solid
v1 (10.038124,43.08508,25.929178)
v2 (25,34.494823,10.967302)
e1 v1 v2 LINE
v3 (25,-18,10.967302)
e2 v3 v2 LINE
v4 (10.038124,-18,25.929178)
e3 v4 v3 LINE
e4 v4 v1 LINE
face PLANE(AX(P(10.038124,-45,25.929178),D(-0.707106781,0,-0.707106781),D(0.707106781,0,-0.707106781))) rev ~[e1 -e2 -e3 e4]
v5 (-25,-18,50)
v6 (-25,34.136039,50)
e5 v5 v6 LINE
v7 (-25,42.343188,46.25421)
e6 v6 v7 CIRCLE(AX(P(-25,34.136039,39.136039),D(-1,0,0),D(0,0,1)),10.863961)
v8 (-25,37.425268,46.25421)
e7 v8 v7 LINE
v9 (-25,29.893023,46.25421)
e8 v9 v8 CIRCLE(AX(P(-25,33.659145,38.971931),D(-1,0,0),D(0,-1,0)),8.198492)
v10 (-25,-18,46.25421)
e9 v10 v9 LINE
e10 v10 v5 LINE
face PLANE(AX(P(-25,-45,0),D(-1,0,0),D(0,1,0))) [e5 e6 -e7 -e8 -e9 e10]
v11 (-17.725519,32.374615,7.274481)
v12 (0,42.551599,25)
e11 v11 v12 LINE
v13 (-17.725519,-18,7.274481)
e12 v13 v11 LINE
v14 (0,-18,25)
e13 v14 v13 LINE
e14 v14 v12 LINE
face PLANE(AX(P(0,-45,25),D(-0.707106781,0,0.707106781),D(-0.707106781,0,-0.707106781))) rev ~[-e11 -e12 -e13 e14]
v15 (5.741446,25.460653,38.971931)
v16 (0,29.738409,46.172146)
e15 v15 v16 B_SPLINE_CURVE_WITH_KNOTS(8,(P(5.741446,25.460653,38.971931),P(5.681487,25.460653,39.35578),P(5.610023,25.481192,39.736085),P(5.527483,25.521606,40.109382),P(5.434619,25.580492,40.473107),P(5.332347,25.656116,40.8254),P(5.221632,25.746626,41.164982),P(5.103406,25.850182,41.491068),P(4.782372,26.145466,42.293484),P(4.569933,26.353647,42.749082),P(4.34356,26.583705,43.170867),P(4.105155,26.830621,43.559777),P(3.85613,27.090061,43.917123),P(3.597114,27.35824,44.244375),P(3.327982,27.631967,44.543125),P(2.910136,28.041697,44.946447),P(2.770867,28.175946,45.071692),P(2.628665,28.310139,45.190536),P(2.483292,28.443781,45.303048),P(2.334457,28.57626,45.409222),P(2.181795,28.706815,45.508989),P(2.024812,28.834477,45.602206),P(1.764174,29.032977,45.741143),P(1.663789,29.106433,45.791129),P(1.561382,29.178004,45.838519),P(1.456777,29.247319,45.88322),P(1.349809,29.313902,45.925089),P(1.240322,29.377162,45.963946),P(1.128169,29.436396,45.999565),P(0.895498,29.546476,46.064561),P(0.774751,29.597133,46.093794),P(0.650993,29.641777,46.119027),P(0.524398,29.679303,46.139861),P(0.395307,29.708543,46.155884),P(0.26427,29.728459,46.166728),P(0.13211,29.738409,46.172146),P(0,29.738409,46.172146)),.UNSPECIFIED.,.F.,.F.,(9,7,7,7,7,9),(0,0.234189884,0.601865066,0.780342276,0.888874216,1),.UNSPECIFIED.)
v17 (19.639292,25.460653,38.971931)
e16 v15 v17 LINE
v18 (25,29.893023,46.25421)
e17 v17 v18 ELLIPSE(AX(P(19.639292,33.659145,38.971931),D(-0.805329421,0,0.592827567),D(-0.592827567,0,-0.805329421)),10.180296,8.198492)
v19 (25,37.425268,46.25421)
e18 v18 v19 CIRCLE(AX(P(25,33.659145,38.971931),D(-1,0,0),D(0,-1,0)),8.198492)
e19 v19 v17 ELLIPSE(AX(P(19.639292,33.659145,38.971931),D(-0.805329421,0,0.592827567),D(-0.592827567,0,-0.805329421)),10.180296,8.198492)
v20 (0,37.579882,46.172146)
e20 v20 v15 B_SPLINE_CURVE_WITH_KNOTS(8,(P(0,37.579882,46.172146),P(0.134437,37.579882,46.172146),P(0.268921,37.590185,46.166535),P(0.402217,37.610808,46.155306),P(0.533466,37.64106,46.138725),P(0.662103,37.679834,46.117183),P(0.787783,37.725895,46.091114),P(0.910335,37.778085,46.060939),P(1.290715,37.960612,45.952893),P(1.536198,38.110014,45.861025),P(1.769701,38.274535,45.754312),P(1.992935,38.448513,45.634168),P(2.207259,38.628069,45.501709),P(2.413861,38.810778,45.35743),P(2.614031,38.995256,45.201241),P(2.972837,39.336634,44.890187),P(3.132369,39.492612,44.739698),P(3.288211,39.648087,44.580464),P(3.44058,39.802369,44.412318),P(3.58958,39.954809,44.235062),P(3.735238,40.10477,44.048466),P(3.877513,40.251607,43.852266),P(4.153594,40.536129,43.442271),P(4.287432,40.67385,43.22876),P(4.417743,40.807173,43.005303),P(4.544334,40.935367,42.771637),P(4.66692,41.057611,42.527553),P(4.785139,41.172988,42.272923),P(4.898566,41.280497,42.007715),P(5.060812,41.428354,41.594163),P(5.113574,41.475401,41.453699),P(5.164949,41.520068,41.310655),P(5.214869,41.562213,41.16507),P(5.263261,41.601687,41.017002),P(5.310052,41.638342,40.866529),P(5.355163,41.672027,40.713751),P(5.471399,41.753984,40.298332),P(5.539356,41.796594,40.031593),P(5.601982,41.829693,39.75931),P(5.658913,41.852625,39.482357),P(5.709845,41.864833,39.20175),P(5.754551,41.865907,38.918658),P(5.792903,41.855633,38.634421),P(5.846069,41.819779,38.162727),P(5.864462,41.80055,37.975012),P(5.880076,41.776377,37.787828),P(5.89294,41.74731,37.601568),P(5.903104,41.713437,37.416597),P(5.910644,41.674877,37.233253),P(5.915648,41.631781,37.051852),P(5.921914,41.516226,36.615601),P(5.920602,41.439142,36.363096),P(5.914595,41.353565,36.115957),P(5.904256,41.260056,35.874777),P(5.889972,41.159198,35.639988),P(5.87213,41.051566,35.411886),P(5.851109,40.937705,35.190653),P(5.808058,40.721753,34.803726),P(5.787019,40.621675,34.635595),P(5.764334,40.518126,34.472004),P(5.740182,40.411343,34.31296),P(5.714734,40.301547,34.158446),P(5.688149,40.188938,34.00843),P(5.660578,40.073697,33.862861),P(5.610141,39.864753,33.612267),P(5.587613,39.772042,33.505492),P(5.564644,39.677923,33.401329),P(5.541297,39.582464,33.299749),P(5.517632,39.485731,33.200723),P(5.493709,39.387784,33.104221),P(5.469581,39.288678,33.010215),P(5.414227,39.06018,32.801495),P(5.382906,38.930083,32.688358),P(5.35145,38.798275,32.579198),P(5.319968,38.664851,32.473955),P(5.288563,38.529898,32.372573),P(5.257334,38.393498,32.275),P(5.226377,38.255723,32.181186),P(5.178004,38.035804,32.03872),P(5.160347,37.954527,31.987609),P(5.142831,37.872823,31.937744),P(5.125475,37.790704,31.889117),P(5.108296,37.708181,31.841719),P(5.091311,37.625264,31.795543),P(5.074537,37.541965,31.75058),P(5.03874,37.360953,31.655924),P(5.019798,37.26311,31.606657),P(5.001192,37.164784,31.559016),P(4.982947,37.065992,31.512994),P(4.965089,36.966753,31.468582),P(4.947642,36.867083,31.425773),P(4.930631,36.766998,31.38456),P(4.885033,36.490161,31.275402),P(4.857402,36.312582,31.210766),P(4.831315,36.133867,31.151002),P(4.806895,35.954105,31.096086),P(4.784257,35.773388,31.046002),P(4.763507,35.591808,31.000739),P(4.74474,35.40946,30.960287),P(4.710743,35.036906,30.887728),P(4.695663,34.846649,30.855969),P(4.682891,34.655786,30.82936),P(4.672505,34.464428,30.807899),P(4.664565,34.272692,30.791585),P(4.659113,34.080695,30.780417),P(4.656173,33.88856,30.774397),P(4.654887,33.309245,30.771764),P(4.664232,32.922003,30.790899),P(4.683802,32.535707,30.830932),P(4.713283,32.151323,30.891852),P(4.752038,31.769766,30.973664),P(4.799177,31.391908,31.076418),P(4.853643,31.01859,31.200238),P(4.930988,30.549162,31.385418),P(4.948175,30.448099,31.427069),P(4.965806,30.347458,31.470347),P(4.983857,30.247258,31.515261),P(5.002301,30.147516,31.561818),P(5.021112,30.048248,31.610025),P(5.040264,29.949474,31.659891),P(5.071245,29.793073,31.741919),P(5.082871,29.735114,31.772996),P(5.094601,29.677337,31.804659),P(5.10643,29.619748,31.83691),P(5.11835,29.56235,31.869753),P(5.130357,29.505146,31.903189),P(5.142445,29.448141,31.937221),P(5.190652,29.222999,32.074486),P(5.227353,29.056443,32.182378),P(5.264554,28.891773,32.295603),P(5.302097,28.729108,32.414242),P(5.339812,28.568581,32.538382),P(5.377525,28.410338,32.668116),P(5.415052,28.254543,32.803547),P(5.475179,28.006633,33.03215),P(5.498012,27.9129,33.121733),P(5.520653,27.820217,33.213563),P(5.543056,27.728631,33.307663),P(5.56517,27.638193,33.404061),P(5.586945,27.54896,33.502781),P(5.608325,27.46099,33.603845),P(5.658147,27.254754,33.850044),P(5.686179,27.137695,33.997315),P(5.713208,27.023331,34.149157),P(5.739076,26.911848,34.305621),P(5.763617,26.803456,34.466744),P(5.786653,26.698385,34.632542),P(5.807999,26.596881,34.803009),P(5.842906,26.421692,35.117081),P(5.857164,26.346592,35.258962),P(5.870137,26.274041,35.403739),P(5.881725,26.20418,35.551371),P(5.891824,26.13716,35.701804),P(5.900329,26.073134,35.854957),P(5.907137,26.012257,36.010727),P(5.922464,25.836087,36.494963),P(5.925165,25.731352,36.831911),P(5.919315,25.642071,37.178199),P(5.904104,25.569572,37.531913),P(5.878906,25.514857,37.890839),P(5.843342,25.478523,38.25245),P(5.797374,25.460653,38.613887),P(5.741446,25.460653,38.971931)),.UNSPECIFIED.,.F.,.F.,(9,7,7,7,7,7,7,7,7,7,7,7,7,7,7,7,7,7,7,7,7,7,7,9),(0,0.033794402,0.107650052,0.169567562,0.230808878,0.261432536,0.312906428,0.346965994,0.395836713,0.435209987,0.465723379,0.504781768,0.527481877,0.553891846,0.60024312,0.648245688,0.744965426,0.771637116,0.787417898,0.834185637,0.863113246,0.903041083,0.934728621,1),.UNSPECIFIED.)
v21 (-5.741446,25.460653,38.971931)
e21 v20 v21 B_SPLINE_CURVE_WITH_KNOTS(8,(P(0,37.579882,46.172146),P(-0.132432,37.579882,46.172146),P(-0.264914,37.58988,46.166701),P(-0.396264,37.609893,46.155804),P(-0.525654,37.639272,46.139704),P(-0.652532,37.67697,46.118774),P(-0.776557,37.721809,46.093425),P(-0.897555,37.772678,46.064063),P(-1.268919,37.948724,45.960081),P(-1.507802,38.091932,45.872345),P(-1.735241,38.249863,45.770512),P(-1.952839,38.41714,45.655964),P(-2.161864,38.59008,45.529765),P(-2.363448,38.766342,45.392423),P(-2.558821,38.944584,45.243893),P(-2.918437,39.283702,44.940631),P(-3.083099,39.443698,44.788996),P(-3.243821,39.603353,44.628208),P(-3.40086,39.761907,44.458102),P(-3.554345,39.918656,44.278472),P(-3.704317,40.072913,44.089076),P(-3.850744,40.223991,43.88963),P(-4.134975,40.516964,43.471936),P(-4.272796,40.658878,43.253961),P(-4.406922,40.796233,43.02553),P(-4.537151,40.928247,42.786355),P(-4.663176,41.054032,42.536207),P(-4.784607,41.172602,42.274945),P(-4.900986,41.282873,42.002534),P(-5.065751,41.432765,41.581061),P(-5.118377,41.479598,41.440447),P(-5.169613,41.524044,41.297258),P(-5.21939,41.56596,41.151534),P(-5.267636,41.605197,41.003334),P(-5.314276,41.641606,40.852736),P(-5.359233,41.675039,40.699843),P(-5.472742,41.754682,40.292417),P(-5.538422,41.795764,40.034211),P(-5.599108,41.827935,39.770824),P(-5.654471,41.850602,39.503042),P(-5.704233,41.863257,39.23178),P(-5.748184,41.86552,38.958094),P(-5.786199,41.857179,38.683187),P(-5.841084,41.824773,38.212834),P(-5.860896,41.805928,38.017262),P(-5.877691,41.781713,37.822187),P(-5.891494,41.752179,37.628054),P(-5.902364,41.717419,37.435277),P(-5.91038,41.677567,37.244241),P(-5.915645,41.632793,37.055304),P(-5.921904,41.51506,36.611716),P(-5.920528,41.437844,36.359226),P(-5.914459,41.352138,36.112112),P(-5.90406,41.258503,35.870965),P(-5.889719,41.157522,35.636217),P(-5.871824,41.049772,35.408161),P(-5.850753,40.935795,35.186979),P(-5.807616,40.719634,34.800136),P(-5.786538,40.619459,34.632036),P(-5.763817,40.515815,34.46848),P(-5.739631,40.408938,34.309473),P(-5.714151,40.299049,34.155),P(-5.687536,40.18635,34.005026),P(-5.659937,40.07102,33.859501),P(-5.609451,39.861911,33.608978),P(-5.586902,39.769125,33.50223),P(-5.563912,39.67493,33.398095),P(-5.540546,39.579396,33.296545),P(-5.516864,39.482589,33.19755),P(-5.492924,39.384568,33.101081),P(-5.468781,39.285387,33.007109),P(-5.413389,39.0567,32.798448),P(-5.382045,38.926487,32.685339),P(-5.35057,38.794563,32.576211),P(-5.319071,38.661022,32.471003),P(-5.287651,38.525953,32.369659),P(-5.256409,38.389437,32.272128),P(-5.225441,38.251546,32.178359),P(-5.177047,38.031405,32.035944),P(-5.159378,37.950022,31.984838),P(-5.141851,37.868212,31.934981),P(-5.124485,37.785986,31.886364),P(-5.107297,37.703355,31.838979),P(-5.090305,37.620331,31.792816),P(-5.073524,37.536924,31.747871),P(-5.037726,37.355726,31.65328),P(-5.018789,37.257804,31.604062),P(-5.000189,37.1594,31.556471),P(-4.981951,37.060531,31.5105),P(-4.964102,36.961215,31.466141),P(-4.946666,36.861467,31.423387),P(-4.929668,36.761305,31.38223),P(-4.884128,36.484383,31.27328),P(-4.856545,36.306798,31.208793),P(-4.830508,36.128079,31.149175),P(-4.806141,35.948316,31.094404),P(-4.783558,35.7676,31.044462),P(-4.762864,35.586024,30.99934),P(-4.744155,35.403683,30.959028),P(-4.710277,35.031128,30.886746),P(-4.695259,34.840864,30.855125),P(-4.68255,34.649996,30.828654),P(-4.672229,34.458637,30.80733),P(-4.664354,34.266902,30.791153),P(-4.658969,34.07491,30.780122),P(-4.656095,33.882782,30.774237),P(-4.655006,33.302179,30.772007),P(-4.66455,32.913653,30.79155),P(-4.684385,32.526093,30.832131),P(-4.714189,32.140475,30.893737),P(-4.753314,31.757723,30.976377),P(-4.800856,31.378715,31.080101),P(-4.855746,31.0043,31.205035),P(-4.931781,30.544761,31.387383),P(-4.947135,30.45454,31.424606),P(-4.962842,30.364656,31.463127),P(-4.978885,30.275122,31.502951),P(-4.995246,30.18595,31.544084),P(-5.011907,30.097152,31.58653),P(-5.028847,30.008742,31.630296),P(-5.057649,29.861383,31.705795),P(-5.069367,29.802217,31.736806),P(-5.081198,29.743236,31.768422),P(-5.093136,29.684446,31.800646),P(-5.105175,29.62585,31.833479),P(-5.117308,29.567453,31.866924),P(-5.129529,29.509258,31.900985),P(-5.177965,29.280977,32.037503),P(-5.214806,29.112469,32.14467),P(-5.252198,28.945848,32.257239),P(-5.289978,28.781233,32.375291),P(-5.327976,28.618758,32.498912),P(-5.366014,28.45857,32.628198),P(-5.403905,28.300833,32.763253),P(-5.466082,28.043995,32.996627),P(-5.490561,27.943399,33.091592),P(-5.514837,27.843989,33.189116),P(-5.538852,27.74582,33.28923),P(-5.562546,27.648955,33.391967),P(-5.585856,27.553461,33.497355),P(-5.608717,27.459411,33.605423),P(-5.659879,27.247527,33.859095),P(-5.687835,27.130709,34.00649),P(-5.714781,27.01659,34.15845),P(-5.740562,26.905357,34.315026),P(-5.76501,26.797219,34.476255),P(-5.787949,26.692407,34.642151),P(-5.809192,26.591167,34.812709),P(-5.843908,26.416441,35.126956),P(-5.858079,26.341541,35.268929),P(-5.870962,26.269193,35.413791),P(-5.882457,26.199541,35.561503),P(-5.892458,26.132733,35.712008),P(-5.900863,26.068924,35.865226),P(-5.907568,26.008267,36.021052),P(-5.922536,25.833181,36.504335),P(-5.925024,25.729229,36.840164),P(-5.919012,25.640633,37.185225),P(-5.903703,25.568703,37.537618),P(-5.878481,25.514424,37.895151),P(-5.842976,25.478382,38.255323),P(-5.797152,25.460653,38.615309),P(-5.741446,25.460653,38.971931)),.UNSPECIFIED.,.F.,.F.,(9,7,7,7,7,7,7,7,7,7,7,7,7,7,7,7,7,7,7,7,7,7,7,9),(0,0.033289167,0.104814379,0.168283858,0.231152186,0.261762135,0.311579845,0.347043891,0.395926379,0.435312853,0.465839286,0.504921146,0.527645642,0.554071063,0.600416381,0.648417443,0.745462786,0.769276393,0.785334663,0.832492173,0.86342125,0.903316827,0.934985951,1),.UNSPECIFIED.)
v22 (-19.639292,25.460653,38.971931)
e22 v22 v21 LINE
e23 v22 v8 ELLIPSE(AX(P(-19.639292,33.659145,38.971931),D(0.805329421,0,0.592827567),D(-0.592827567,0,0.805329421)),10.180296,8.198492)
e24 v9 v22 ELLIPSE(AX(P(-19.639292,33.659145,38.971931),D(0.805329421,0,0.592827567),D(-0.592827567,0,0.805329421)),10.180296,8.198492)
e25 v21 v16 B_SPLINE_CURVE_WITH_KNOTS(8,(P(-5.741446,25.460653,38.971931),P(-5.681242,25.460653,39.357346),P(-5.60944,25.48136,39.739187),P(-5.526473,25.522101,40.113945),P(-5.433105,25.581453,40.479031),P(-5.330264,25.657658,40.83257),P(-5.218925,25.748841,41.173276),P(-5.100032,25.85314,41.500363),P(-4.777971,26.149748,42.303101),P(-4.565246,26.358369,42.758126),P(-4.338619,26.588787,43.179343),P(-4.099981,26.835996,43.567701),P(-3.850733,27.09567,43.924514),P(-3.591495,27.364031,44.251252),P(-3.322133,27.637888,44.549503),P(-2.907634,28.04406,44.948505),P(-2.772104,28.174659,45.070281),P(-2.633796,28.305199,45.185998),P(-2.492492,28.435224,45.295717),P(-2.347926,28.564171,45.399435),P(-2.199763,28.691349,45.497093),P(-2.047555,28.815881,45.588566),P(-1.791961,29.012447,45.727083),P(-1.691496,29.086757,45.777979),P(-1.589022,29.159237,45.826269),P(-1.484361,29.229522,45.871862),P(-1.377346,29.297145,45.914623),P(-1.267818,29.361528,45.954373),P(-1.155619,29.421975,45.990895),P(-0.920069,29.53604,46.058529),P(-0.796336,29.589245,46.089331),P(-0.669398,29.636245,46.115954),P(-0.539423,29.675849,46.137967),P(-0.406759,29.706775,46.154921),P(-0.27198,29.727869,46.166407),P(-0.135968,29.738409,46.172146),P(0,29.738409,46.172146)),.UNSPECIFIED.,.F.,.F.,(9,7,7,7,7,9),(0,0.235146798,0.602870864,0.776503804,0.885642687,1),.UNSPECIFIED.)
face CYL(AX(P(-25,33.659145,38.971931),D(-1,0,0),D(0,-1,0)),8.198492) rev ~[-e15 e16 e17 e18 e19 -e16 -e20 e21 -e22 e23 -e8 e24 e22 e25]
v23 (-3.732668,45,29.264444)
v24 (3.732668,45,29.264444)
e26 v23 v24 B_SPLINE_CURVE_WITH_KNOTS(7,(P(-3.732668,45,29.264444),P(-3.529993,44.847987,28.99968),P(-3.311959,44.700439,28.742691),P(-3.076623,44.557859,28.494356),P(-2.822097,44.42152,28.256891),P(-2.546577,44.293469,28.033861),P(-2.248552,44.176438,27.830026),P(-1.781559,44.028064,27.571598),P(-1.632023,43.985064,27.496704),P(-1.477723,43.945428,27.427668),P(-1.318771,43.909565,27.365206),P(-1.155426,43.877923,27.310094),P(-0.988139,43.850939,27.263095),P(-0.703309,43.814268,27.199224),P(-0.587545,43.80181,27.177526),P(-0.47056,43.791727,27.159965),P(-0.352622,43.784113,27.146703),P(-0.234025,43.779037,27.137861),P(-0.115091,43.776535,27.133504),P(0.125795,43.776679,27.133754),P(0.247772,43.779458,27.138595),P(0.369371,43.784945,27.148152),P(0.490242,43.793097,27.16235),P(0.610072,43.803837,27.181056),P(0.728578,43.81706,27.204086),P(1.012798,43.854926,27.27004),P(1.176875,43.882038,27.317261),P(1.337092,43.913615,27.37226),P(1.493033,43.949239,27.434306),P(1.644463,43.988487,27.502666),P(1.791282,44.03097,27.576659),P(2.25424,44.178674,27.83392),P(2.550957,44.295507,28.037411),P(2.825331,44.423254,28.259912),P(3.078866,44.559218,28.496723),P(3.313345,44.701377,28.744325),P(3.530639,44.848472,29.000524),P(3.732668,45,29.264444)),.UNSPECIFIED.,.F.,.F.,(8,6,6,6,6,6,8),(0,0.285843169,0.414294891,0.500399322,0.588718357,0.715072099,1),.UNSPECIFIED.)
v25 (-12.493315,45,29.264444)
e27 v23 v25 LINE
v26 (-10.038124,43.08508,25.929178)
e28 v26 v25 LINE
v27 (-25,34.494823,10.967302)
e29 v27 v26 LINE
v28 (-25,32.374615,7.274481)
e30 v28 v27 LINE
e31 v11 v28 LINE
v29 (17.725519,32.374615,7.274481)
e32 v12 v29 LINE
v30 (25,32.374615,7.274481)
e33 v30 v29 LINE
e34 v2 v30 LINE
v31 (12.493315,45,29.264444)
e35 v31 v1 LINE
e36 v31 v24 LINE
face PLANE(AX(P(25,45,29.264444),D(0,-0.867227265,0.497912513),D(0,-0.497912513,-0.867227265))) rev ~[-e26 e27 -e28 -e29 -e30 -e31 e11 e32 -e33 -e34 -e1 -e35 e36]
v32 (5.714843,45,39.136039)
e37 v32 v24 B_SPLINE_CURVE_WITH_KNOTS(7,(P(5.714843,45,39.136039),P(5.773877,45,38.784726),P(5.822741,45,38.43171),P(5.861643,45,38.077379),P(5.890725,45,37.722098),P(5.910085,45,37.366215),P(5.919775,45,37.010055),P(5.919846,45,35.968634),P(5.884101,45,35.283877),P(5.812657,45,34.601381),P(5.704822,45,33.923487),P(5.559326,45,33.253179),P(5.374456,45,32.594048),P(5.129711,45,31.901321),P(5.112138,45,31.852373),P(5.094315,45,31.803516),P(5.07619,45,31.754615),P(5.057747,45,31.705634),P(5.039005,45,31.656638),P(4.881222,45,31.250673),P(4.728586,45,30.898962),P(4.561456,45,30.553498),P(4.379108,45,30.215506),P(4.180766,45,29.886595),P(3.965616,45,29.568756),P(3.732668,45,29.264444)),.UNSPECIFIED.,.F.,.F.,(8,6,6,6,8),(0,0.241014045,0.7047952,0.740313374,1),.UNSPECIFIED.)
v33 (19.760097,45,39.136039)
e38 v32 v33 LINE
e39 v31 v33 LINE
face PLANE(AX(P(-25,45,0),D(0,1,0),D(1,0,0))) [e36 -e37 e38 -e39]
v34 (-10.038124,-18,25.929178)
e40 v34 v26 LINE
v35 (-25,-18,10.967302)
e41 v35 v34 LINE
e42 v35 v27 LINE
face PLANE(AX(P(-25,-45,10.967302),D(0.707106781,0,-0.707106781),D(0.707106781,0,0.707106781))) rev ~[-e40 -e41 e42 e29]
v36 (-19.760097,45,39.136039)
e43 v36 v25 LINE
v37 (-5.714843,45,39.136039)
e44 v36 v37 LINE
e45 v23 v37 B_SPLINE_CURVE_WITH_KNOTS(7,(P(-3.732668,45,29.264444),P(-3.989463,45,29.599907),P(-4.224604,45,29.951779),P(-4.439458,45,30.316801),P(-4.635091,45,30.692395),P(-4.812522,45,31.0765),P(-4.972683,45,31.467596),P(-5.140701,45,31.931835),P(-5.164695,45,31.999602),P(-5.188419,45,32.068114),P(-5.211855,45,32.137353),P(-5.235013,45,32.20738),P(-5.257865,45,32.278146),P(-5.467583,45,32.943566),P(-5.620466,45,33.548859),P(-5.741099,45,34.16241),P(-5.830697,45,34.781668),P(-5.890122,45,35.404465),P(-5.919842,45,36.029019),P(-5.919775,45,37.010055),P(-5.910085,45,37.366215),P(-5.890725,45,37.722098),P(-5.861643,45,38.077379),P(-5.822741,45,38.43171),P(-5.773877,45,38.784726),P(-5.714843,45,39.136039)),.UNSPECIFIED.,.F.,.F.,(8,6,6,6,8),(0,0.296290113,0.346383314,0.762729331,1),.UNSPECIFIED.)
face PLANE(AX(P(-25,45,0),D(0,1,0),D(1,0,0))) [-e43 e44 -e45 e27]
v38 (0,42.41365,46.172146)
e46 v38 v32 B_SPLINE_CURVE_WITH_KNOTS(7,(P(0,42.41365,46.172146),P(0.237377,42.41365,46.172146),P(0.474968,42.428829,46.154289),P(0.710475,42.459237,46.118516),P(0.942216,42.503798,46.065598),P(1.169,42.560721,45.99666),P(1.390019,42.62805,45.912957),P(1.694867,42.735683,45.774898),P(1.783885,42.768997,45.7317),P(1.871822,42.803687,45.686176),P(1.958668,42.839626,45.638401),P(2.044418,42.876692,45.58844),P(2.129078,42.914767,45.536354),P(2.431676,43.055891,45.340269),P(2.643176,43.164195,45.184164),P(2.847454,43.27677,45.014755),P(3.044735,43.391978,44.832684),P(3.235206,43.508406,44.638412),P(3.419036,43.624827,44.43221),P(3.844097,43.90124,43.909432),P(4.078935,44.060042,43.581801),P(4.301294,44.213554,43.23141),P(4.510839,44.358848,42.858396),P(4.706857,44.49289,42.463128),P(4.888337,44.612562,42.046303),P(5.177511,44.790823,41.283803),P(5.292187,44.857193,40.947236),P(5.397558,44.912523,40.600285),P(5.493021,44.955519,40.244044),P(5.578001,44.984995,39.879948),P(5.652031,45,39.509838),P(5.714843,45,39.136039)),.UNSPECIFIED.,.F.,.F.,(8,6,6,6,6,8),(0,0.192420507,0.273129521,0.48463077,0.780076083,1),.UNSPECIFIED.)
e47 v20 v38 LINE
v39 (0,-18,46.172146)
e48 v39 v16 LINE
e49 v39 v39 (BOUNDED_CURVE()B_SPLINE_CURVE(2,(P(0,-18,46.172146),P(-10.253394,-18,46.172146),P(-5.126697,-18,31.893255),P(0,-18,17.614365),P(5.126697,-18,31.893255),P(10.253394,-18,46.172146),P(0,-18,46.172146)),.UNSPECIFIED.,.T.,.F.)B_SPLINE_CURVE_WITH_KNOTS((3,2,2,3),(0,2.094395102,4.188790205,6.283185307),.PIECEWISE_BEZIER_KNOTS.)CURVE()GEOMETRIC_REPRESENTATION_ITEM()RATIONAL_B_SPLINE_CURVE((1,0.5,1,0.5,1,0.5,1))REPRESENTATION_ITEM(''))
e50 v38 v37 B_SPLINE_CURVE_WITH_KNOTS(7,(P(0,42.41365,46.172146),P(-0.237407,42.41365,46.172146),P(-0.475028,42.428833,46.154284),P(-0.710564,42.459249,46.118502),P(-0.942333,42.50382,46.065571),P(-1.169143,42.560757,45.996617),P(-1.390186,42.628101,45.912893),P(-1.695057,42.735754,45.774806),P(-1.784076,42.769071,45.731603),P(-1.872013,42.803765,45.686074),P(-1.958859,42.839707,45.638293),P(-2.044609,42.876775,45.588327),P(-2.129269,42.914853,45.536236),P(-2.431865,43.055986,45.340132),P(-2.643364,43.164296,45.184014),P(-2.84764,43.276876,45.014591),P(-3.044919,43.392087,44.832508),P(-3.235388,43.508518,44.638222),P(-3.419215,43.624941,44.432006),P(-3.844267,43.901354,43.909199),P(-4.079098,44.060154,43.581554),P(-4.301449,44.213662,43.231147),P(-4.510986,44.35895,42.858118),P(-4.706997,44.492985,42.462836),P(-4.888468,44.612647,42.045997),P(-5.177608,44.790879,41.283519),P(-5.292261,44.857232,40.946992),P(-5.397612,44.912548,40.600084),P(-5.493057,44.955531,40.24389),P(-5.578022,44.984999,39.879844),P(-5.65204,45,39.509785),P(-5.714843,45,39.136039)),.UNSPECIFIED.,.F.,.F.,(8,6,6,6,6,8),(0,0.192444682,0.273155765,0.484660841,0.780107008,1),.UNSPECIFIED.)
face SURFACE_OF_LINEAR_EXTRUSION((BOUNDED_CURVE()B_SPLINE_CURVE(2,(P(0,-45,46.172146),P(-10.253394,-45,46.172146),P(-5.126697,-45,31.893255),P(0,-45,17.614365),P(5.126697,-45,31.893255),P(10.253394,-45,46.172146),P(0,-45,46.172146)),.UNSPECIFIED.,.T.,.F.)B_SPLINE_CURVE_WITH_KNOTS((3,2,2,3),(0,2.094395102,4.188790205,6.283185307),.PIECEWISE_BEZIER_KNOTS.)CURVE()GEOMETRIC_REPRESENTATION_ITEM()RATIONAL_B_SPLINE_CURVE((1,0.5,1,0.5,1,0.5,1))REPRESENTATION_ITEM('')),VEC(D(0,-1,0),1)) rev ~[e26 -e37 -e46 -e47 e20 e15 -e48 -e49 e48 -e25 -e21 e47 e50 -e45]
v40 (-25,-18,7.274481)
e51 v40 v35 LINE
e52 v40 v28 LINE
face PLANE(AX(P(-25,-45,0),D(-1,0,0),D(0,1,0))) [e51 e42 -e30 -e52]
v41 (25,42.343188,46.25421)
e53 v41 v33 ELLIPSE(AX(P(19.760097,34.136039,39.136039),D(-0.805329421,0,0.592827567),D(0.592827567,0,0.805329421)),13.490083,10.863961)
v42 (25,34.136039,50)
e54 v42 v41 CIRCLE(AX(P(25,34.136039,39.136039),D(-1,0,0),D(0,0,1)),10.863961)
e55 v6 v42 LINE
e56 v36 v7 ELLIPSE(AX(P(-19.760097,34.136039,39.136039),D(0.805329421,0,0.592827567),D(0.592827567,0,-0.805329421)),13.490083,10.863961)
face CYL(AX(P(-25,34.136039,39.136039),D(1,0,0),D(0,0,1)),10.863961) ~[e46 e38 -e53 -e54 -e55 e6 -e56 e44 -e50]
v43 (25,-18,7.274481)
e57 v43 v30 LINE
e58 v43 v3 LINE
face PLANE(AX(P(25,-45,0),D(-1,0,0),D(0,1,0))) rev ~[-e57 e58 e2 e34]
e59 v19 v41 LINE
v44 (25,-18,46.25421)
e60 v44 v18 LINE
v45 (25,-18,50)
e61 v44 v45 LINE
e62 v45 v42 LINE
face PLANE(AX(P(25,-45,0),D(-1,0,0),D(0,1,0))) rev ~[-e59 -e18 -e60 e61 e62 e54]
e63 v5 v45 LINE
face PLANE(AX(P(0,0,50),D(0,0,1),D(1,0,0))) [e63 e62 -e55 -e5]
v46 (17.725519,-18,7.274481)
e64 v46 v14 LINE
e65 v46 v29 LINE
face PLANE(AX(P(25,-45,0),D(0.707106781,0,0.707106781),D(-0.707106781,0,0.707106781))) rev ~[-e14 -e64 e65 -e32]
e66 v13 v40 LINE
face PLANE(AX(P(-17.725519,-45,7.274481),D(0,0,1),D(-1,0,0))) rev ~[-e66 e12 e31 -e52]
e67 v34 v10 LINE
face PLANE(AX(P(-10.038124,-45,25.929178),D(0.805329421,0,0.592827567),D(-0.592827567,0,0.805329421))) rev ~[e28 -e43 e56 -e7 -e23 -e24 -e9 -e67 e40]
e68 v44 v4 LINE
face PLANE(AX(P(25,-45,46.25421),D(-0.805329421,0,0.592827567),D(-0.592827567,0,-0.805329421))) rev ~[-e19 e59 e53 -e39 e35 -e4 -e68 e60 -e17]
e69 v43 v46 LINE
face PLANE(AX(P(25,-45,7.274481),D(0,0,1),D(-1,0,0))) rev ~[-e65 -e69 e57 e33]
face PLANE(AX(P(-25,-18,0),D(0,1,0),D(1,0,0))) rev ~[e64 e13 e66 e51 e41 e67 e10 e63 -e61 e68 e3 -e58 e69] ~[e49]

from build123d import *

# Parameters (mm, degrees)
F0_W      = 50
F0_H      = 90
F1_DEPTH  = 50
F3_DEPTH  = 90.001
F4_R      = 8.198492098
F5_DEPTH  = 50.001
F6_R      = 10.8639610307
F8_DEPTH  = 50.001
F11_DEPTH = 90.001
F13_DEPTH = 90.0010001
F14_DEPTH = 90.0010001
F15_DEPTH = 27


with BuildPart() as f1:
    # F0 (on Top) → F1 (new body)
    with BuildSketch(Plane.XY):
        Rectangle(F0_W, F0_H)
    extrude(amount=F1_DEPTH)

    # F2 (on face) → F3 (cut, through all)
    with BuildSketch(Plane.XZ.offset(45)):
        Polygon((0, 25), (-25, 0), (25, 0), align=None)
    extrude(amount=-F3_DEPTH, mode=Mode.SUBTRACT)

    # F4 (on face) → F5 (cut, through all)
    with BuildSketch(Plane(origin=(-25, 0, 0), x_dir=(0, -1, 0), z_dir=(-1, 0, 0))):
        with Locations((-33.659145236, 38.9719307423)):
            Circle(F4_R)
    extrude(amount=-F5_DEPTH, mode=Mode.SUBTRACT)

    # F6
    f6_edges = [f1.edges().sort_by_distance(p)[0] for p in [
        (0, 45, 50),
    ]]
    fillet(f6_edges, radius=F6_R)

    # F7 (on face) → F8 (cut, through all)
    with BuildSketch(Plane.YZ.offset(25)):
        Polygon((28.1980223954, 0), (45, 0), (45, 29.2644444853), align=None)
    extrude(amount=-F8_DEPTH, mode=Mode.SUBTRACT)

    # F10 (on face) → F11 (cut, through all)
    with BuildSketch(Plane.XZ.offset(45)):
        with BuildLine():
            add(Edge.make_bspline(
                [(0, 46.1721457541), (-10.2533935373, 46.1721457541), (-5.1266967687, 31.8932551891), (0, 17.614364624), (5.1266967687, 31.8932551891), (10.2533935373, 46.1721457541), (0, 46.1721457541)],
                knots=[0, 0, 0, 2.0943951024, 2.0943951024, 4.1887902048, 4.1887902048, 6.2831853072, 6.2831853072, 6.2831853072], degree=2, weights=[1, 0.5, 1, 0.5, 1, 0.5, 1]))
        make_face()
    extrude(amount=-F11_DEPTH, mode=Mode.SUBTRACT)

    # F12 (on face) → F13 (cut, through all)
    with BuildSketch(Plane.XZ.offset(45)):
        Polygon((25, 7.2744810022), (17.7255189978, 7.2744810022), (25, 0), align=None)
        Polygon((-17.7255189978, 7.2744810022), (-25, 7.2744810022), (-25, 0), align=None)
    extrude(amount=-F13_DEPTH, mode=Mode.SUBTRACT)

    # F9 (on face) → F14 (cut, through all)
    with BuildSketch(Plane.XZ.offset(45)):
        Polygon((25, 10.9673021361), (25, 46.2542101741), (10.0381237455, 25.9291783907), align=None)
        Polygon((-25, 46.2542101741), (-25, 10.9673021361), (-10.0381237455, 25.9291783907), align=None)
    extrude(amount=-F14_DEPTH, mode=Mode.SUBTRACT)

    # F15 (cut): a face of the model
    f15_faces = [f1.faces().sort_by_distance(p)[0] for p in [
        (21.3627594989, -45, 7.9321640574),
    ]]
    extrude(f15_faces, amount=-F15_DEPTH, mode=Mode.SUBTRACT)


solid = f1.part
